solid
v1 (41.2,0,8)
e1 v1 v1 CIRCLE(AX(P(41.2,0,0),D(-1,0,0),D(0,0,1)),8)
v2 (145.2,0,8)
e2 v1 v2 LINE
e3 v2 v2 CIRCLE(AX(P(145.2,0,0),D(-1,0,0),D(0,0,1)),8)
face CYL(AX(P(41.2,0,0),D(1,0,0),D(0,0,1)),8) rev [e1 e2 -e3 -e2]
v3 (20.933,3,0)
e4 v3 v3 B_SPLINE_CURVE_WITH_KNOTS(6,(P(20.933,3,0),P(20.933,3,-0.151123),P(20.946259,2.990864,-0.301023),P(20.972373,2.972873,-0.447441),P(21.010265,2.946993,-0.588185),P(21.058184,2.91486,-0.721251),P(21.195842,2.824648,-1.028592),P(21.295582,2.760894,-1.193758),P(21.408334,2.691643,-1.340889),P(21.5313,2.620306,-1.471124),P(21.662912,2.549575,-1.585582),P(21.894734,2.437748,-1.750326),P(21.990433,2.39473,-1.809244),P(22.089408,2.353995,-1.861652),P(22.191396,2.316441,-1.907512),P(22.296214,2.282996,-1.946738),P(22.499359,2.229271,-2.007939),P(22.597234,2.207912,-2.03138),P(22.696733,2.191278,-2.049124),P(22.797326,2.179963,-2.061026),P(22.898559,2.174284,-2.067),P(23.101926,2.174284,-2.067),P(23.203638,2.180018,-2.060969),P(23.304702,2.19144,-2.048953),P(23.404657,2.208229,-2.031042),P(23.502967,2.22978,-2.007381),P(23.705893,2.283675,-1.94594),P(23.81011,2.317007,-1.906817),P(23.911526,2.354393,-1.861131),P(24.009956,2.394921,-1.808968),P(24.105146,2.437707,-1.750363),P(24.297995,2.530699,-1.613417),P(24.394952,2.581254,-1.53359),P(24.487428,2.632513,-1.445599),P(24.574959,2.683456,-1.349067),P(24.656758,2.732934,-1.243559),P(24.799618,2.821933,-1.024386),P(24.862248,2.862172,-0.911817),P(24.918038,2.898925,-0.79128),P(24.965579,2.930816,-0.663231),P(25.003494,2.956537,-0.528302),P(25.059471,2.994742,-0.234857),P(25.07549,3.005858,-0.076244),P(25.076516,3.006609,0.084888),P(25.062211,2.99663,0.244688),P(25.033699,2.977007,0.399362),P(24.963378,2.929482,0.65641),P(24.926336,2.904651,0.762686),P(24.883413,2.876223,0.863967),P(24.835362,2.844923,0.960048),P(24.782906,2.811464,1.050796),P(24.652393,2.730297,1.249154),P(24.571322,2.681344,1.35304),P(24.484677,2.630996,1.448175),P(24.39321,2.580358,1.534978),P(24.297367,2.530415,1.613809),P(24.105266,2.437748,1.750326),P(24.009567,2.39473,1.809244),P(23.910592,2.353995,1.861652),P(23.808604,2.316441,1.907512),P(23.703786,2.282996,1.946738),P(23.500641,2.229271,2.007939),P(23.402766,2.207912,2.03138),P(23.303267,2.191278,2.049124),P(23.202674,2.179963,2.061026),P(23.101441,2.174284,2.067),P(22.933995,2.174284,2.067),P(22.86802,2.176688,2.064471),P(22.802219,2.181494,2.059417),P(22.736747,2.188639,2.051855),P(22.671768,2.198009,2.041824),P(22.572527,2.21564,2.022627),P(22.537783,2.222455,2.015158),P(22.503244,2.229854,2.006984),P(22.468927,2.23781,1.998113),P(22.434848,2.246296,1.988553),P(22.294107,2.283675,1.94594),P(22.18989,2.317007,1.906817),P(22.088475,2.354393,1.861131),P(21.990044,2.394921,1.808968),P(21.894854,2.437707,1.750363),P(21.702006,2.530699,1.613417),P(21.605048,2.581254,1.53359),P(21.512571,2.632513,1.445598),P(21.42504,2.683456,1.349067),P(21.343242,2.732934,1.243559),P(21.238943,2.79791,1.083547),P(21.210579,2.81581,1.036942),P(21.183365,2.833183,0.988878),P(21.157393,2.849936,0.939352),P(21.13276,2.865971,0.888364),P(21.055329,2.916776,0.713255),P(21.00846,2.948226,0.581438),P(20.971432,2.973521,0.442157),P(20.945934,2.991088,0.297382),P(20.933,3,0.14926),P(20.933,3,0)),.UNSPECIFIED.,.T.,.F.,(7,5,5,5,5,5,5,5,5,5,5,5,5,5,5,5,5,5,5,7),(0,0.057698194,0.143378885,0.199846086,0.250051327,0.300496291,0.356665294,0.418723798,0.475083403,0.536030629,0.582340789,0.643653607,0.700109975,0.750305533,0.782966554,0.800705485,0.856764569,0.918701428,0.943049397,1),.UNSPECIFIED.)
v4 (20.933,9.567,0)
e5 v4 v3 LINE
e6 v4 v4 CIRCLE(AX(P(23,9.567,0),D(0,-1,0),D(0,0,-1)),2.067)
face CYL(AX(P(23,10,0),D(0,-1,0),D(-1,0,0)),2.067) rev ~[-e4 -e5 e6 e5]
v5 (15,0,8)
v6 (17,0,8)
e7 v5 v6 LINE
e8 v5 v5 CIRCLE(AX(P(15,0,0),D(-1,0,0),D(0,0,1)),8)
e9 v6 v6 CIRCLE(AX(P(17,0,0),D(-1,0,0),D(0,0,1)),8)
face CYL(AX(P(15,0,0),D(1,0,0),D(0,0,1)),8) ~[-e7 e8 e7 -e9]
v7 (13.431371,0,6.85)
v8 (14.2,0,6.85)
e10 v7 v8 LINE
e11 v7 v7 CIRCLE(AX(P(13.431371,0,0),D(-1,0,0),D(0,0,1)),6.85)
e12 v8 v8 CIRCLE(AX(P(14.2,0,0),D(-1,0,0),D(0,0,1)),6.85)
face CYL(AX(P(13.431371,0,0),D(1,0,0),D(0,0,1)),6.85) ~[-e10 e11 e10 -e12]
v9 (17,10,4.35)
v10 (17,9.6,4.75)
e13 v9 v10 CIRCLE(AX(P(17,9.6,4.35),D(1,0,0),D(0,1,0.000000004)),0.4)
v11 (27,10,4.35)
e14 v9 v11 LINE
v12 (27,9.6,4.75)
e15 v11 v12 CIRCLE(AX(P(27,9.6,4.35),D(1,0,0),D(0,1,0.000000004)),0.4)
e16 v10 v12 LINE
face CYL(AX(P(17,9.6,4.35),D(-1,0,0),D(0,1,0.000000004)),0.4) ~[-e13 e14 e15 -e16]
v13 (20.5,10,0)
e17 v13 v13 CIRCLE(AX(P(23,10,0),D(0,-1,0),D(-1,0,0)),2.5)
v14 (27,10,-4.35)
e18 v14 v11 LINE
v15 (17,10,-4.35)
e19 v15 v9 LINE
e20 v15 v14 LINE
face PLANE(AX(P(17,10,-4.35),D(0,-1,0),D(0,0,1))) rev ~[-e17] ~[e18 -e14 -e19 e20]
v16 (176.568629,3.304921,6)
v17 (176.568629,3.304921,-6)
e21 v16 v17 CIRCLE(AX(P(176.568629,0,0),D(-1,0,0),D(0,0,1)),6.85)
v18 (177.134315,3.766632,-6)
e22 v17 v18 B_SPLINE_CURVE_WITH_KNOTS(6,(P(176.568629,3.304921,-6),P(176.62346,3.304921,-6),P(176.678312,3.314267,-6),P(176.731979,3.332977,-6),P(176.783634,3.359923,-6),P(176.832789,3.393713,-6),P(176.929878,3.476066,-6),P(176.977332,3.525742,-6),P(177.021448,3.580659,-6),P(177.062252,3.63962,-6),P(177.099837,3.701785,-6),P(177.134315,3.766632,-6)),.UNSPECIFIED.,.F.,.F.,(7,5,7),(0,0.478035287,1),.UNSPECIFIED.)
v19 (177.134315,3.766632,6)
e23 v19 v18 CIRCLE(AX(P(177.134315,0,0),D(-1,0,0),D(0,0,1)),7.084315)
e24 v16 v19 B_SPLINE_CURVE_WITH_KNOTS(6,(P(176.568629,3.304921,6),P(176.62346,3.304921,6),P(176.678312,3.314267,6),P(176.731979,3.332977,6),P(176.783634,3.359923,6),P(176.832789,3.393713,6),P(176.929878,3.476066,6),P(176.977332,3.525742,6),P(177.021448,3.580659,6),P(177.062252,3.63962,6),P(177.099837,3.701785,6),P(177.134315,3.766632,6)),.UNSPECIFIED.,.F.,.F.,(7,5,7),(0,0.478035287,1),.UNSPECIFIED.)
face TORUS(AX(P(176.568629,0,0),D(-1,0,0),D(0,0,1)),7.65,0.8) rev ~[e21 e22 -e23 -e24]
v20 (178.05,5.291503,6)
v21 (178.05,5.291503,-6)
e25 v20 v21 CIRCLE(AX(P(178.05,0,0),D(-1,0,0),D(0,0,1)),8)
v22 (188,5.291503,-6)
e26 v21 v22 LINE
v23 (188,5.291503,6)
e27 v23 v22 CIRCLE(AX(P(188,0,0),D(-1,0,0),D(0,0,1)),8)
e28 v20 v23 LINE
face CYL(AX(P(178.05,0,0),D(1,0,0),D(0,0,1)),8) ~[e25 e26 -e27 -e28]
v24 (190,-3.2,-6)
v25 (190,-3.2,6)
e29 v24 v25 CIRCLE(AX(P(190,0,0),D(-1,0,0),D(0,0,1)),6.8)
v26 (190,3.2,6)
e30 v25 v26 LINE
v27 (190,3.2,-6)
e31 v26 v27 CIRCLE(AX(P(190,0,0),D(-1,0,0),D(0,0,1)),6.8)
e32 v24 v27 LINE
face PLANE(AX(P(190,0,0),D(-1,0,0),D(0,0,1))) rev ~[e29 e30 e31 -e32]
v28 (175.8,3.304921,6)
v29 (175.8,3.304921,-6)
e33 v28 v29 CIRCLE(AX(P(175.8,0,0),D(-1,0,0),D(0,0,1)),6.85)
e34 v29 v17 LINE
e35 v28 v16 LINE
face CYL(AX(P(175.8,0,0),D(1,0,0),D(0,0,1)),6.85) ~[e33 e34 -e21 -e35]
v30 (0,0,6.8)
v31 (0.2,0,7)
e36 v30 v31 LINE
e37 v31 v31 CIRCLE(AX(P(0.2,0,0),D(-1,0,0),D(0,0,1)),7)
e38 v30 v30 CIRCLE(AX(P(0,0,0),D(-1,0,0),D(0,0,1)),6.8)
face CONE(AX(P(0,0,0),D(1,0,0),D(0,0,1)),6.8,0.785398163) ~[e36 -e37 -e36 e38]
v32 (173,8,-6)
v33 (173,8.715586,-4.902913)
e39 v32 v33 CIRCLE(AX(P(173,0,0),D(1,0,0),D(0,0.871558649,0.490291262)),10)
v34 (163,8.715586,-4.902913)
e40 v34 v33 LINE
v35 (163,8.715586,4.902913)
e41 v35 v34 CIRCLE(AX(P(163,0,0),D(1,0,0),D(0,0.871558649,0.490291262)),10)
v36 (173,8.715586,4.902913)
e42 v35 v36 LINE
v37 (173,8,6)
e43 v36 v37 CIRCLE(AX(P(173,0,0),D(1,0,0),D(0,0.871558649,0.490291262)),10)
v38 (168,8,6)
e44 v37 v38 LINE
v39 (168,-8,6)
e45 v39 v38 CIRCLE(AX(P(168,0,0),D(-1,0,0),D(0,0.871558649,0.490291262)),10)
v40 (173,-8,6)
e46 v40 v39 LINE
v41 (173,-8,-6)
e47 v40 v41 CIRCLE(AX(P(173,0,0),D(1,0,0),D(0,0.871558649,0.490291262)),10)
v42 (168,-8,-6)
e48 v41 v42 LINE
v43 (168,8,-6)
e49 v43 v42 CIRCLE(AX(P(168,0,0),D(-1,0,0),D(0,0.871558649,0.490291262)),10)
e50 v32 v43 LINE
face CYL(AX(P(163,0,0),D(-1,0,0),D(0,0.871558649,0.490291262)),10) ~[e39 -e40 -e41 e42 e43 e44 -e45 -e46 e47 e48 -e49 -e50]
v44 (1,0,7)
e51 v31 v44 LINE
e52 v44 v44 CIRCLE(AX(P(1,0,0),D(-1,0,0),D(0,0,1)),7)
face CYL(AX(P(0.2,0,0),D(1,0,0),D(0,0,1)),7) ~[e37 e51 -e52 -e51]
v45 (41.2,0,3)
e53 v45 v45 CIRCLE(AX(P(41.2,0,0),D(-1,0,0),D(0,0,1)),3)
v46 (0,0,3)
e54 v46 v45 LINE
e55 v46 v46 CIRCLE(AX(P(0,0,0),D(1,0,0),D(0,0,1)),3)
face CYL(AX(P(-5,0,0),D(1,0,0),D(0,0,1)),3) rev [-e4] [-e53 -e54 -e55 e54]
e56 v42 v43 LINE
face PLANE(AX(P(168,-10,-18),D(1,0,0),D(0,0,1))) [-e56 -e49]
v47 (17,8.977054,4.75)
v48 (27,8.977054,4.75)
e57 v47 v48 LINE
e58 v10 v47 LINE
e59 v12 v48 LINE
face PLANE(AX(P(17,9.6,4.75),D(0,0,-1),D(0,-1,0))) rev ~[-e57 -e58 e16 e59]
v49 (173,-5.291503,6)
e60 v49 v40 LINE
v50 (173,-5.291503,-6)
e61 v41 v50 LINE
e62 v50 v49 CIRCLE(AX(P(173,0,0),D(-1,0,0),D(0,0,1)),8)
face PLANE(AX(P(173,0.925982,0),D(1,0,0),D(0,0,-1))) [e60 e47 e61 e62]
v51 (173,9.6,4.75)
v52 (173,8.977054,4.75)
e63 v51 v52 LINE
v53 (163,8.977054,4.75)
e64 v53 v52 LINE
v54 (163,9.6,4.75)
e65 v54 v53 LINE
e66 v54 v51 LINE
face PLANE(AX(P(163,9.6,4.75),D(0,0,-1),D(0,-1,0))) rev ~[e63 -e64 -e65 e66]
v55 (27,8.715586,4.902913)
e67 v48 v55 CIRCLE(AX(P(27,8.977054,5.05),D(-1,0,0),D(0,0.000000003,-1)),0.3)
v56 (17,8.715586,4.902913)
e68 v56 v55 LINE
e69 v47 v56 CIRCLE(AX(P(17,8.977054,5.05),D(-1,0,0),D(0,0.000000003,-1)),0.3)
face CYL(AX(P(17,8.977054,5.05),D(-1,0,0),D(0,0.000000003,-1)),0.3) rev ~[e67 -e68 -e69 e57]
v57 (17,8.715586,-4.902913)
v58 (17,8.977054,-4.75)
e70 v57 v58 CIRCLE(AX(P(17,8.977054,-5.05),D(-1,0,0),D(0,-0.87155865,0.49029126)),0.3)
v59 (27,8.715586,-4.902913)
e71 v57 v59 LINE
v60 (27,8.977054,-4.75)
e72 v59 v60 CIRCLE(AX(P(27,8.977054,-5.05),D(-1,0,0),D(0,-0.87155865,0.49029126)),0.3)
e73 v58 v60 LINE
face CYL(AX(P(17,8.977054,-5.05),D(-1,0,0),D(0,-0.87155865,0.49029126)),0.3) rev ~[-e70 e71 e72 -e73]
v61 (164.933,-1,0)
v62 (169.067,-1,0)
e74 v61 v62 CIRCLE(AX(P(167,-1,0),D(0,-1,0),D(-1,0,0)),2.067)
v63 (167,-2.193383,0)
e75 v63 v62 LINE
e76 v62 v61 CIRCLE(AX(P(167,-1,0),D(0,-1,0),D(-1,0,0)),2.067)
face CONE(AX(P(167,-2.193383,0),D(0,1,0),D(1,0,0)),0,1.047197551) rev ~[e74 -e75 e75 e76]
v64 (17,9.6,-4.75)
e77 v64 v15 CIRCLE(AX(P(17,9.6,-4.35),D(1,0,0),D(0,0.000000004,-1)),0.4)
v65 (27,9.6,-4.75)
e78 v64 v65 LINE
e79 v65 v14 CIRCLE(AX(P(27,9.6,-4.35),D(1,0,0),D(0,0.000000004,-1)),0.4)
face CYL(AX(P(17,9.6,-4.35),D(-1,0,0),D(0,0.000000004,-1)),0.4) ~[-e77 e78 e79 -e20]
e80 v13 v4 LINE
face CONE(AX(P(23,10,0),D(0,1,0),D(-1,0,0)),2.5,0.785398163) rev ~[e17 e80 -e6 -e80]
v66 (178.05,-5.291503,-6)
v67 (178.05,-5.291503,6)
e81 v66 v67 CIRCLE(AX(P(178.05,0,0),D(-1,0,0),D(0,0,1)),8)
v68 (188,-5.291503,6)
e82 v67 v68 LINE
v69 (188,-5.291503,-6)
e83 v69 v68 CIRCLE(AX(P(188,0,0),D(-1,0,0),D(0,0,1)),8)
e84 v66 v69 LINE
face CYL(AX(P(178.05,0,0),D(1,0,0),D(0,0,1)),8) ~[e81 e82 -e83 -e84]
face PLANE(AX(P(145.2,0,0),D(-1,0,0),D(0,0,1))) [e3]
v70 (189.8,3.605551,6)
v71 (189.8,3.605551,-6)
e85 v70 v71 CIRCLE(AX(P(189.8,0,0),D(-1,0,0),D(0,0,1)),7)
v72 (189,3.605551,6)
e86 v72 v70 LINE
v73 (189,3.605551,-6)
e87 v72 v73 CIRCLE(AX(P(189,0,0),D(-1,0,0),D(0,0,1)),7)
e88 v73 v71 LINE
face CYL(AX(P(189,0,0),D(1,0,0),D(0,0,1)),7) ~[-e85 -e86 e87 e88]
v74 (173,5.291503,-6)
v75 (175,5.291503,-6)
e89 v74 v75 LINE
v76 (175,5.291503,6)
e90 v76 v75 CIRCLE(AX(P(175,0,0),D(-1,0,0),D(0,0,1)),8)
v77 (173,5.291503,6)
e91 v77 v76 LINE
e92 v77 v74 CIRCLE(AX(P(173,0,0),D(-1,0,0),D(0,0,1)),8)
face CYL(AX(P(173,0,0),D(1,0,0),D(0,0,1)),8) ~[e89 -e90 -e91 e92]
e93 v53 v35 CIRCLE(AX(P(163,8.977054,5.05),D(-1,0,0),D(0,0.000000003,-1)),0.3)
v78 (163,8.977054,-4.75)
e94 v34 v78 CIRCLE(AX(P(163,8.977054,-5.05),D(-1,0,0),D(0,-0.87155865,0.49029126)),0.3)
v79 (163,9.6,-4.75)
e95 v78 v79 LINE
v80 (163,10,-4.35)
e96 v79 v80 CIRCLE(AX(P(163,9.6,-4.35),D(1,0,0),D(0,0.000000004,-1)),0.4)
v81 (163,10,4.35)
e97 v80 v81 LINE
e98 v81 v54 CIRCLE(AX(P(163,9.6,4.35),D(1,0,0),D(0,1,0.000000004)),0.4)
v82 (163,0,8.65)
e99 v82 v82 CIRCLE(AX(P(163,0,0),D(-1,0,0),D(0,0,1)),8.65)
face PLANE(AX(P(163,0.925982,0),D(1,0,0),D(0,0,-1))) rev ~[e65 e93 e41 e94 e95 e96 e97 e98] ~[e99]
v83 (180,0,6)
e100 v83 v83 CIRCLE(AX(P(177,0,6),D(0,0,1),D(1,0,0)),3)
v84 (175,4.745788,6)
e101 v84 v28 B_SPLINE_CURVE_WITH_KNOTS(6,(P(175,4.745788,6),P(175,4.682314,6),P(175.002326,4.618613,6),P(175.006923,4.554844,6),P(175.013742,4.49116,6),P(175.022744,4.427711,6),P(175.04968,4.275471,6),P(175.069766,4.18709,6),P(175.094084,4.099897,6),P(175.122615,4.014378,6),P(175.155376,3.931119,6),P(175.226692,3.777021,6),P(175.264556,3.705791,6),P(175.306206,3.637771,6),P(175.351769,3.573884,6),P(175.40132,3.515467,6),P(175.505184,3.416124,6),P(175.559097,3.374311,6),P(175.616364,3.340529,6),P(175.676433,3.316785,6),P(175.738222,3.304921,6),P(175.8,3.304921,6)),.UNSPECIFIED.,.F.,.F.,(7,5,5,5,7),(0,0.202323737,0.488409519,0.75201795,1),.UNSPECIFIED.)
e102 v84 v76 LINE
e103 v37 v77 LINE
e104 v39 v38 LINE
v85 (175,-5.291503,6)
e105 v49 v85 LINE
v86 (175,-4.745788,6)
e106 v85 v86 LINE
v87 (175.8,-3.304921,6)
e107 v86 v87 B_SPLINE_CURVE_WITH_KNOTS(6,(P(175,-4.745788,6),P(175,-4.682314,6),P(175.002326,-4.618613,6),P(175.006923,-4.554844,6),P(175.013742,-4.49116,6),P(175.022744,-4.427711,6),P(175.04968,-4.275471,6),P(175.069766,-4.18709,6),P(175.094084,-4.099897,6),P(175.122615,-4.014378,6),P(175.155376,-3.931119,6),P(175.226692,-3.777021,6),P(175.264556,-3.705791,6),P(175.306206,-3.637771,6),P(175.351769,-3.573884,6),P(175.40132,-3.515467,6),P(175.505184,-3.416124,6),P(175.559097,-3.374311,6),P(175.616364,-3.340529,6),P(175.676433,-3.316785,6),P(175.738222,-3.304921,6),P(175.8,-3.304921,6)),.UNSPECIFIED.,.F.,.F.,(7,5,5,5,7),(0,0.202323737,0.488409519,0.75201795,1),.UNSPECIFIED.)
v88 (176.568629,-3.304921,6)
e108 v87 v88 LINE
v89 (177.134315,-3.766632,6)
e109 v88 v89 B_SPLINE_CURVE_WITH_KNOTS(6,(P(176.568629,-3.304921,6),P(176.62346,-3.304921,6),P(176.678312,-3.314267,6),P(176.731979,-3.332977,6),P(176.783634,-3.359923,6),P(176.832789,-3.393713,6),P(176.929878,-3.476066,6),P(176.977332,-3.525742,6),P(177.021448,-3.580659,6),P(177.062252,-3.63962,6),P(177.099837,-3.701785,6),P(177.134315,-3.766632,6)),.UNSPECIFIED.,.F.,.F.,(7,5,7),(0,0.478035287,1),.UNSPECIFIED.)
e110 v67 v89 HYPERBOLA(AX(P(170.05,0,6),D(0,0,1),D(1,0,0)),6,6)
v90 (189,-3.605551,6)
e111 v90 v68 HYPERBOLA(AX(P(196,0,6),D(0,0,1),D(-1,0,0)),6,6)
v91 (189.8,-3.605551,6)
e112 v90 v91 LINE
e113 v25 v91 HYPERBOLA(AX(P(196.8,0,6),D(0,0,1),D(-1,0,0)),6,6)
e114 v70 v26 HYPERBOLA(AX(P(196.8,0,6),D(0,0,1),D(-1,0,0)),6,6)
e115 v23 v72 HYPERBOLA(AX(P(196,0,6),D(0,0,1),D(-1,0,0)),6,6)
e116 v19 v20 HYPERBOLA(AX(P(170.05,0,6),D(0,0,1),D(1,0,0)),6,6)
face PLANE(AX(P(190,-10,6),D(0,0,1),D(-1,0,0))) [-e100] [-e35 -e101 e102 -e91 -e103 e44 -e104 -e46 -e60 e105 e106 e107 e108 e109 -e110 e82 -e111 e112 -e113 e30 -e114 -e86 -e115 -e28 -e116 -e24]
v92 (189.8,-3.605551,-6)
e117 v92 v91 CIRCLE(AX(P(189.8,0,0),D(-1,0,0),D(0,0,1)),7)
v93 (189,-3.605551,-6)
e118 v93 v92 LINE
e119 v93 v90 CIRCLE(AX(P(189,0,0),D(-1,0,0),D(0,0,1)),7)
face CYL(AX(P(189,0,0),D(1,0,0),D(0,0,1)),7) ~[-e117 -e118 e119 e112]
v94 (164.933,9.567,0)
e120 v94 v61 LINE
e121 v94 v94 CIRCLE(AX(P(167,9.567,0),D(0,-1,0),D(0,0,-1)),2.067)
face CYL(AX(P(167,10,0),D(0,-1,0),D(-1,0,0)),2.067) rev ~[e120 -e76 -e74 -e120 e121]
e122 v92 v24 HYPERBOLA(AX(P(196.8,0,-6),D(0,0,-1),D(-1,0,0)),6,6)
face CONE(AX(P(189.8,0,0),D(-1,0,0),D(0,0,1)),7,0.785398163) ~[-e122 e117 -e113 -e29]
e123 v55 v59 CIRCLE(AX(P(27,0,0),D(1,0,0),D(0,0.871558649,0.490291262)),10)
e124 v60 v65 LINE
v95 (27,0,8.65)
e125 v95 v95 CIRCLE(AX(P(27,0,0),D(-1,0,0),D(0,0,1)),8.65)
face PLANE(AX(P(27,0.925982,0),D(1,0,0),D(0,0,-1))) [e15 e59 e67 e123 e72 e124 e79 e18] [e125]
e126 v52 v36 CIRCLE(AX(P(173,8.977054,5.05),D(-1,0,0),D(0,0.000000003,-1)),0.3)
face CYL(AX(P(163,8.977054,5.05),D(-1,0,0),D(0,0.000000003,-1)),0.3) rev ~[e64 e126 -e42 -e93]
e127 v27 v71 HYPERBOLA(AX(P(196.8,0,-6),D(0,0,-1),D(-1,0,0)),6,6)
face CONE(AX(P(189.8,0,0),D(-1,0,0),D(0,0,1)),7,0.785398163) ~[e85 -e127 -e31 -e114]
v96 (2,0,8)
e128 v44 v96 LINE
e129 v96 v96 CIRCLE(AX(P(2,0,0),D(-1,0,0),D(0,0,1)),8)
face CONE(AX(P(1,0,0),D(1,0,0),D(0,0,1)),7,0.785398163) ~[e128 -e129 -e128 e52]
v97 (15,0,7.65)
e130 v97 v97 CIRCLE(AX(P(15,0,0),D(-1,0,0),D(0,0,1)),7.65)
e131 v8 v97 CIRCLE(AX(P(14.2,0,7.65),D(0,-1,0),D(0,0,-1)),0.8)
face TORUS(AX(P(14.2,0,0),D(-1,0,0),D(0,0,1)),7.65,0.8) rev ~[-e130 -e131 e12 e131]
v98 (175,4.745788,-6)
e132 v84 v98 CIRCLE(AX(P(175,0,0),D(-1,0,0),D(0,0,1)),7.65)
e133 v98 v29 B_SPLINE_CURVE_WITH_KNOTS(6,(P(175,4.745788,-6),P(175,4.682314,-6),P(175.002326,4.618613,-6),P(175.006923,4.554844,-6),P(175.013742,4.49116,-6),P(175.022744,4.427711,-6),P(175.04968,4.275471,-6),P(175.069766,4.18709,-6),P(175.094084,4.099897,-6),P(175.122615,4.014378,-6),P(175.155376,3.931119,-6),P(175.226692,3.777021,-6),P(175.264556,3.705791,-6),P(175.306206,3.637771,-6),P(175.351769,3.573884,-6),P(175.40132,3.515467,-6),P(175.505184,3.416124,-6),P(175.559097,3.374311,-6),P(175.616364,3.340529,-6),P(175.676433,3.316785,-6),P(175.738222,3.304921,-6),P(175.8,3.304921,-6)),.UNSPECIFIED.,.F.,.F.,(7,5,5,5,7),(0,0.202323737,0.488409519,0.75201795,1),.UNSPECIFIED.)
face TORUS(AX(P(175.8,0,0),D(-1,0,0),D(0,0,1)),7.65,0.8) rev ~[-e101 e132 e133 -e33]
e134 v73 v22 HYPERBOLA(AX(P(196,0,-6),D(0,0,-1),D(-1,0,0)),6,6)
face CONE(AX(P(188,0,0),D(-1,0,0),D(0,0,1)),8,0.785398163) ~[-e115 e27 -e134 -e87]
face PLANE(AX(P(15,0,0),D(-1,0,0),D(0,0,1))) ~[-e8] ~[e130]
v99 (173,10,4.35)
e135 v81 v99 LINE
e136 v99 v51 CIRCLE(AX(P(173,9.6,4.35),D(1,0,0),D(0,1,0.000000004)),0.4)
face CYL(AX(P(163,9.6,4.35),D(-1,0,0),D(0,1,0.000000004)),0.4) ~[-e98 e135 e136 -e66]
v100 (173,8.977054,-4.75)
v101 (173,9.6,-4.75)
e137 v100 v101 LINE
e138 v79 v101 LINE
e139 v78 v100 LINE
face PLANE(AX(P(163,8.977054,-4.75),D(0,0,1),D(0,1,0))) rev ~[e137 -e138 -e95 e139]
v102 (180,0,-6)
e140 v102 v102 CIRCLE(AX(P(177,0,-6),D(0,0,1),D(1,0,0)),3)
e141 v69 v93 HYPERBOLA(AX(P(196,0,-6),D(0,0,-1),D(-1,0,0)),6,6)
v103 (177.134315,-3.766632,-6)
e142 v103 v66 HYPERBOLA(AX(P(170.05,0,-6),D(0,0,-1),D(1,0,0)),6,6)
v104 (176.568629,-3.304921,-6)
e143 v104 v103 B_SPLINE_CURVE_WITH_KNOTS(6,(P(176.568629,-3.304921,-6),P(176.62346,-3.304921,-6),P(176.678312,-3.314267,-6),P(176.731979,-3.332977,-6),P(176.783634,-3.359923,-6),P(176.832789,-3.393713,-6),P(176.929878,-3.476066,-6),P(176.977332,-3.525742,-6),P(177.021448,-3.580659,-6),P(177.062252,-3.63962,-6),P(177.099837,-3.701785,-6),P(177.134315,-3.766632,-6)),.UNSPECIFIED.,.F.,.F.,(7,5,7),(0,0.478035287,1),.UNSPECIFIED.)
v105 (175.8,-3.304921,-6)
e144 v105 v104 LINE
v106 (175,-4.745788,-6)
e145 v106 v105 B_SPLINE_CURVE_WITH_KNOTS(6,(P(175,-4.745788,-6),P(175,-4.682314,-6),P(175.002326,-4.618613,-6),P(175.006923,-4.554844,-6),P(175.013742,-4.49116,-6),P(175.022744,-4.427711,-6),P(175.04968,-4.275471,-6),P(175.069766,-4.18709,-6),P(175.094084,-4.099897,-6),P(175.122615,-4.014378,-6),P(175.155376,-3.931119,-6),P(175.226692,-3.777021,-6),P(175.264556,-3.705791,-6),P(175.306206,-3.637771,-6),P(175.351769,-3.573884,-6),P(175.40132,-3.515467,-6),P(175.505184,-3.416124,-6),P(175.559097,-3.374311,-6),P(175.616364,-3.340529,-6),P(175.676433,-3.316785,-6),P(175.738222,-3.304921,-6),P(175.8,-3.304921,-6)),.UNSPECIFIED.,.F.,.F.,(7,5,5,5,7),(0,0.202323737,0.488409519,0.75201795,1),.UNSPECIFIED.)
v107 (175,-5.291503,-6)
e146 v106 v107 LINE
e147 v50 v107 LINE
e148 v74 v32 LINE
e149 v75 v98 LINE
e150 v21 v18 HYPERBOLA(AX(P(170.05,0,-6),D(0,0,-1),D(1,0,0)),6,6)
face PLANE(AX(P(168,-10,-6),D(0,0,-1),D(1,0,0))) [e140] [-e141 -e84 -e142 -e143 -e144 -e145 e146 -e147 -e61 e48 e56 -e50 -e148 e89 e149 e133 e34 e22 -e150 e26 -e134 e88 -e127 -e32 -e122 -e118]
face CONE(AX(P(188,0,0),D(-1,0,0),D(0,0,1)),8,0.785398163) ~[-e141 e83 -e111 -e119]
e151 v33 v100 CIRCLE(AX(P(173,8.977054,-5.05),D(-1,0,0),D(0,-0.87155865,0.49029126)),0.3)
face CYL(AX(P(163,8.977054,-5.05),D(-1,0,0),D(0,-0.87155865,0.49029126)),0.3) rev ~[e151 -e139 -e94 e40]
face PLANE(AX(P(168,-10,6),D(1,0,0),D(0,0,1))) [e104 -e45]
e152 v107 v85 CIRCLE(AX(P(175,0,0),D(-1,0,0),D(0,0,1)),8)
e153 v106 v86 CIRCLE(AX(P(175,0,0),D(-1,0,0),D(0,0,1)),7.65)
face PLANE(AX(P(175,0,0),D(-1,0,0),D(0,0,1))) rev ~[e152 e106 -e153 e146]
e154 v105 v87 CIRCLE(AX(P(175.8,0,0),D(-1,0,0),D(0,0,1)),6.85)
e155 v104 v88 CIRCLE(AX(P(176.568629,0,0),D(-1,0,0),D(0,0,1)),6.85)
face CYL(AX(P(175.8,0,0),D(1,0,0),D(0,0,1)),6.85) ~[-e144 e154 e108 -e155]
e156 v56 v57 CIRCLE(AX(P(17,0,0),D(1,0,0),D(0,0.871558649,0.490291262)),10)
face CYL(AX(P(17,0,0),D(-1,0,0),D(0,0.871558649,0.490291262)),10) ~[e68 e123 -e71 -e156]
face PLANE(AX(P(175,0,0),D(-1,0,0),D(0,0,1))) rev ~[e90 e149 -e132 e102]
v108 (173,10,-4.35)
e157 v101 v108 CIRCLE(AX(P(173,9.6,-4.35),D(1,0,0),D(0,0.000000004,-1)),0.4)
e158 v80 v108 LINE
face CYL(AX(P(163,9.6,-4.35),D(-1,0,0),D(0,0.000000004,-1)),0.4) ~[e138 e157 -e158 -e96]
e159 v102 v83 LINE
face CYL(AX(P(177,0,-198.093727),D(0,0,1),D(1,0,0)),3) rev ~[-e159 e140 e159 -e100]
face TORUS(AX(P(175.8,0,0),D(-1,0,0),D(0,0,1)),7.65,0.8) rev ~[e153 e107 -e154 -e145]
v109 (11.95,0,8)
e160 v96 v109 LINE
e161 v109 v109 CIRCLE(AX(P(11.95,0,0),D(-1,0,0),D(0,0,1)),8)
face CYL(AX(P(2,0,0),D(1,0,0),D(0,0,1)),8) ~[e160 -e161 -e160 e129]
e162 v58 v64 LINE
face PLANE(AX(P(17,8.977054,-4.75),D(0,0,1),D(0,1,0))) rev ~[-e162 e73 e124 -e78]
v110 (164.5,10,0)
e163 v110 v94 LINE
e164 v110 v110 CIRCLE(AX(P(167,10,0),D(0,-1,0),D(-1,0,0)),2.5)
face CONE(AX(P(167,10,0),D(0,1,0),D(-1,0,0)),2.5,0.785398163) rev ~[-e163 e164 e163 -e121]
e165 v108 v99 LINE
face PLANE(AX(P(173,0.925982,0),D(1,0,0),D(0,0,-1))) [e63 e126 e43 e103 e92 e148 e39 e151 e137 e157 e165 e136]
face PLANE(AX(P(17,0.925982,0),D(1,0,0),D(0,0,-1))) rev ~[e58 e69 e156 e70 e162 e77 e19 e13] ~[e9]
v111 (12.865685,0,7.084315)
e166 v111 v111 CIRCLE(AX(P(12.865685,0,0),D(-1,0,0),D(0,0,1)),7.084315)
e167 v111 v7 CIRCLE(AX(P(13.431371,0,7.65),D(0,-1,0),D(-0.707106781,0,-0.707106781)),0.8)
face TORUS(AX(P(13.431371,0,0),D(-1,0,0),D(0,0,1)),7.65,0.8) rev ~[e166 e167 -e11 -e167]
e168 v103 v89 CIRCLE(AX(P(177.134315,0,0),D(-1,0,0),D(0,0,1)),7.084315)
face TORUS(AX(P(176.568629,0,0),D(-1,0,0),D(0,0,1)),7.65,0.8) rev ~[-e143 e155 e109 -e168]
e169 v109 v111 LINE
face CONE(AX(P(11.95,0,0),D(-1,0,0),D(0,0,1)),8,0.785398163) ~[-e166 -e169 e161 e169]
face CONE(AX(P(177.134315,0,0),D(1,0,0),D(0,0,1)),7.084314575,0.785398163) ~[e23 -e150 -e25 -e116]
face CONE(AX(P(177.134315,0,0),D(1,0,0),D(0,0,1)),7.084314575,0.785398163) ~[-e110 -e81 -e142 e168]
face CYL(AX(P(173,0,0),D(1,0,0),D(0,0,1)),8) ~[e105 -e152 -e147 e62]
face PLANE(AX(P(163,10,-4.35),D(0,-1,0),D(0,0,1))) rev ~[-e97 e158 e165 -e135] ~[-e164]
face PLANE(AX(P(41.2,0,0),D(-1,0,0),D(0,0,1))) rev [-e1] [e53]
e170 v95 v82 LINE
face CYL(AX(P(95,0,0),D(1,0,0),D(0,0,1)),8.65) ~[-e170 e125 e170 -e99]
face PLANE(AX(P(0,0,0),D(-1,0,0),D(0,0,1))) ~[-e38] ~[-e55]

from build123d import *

# Parameters (mm, degrees)
AUFSATZ_LINEAR_AUSTRAGEN1_DEPTH      = 10
SKIZZE3_W                            = 136
SKIZZE3_H                            = 8.65
AUFSATZ_LINEAR_AUSTRAGEN2_DEPTH      = 10
SCHNITT_LINEAR_AUSTRAGEN1_DEPTH      = 10
SCHNITT_LINEAR_AUSTRAGEN1_DEPTH_BACK = 10
BOHRUNG1_D                           = 6
BOHRUNG2_D                           = 4.134
BOHRUNG2_DEPTH                       = 10
BOHRUNG2_CSINK_D                     = 5
BOHRUNG2_CSINK_ANGLE                 = 90
BOHRUNG3_D                           = 4.134
BOHRUNG3_DEPTH                       = 11
BOHRUNG3_CSINK_D                     = 5
BOHRUNG3_CSINK_ANGLE                 = 90
BOHRUNG3_TIP                         = 1.193383006


with BuildPart() as part:
    # Skizze1 → Rotation1 (revolve)
    with BuildSketch(Plane.XY):
        with BuildLine():
            Line((0, 0), (0, 6.8))
            Line((0, 6.8), (0.2, 7))
            Line((0.2, 7), (1, 7))
            Line((1, 7), (2, 8))
            Line((2, 8), (11.95, 8))
            Line((11.95, 8), (12.865685425, 7.084314575))
            ThreePointArc((12.865685425, 7.084314575), (13.125224104, 6.910896374), (13.43137085, 6.85))
            Line((13.43137085, 6.85), (14.2, 6.85))
            ThreePointArc((14.2, 6.85), (14.765685425, 7.084314575), (15, 7.65))
            Line((15, 7.65), (15, 8))
            Line((15, 8), (17, 8))
            Line((17, 8), (17, 0))
            Line((17, 0), (0, 0))
        make_face()
    revolve(axis=Axis((17, 0, 0), (-1, 0, 0)))

    # Skizze2 → Aufsatz-Linear austragen1 (add)
    with BuildSketch(Plane(origin=(17, 0, 0), x_dir=(0, 0, -1), z_dir=(1, 0, 0))):
        with BuildLine():
            Line((4.75, 8.977054082), (4.75, 9.6))
            ThreePointArc((4.75, 9.6), (4.632842712, 9.882842712), (4.35, 10))
            Line((4.35, 10), (-4.35, 10))
            ThreePointArc((-4.35, 10), (-4.632842712, 9.882842712), (-4.75, 9.6))
            Line((-4.75, 9.6), (-4.75, 8.977054082))
            ThreePointArc((-4.75, 8.977054082), (-4.791034545, 8.825604773), (-4.902912621, 8.715586488))
            ThreePointArc((-4.902912621, 8.715586488), (0, -10), (4.902912621, 8.715586488))
            ThreePointArc((4.902912621, 8.715586488), (4.791034545, 8.825604773), (4.75, 8.977054082))
        make_face()
    extrude(amount=AUFSATZ_LINEAR_AUSTRAGEN1_DEPTH)

    # Skizze3 → Rotation2 (revolve)
    with BuildSketch(Plane.XY):
        with Locations((95, 4.325)):
            Rectangle(SKIZZE3_W, SKIZZE3_H)
    revolve(axis=Axis((163, 0, 0), (-1, 0, 0)))

    # Skizze4 → Aufsatz-Linear austragen2 (add)
    with BuildSketch(Plane(origin=(163, 0, 0), x_dir=(0, 0, -1), z_dir=(1, 0, 0))):
        with BuildLine():
            Line((4.75, 8.977054082), (4.75, 9.6))
            ThreePointArc((4.75, 9.6), (4.632842712, 9.882842712), (4.35, 10))
            Line((4.35, 10), (-4.35, 10))
            ThreePointArc((-4.35, 10), (-4.632842712, 9.882842712), (-4.75, 9.6))
            Line((-4.75, 9.6), (-4.75, 8.977054082))
            ThreePointArc((-4.75, 8.977054082), (-4.791034545, 8.825604773), (-4.902912621, 8.715586488))
            ThreePointArc((-4.902912621, 8.715586488), (0, -10), (4.902912621, 8.715586488))
            ThreePointArc((4.902912621, 8.715586488), (4.791034545, 8.825604773), (4.75, 8.977054082))
        make_face()
    extrude(amount=AUFSATZ_LINEAR_AUSTRAGEN2_DEPTH)

    # Skizze5 → Rotation3 (revolve)
    with BuildSketch(Plane.XY):
        with BuildLine():
            Line((173, 0), (173, 8))
            Line((173, 8), (175, 8))
            Line((175, 8), (175, 7.65))
            ThreePointArc((175, 7.65), (175.234314575, 7.084314575), (175.8, 6.85))
            Line((175.8, 6.85), (176.56862915, 6.85))
            ThreePointArc((176.56862915, 6.85), (176.874775896, 6.910896374), (177.134314575, 7.084314575))
            Line((177.134314575, 7.084314575), (178.05, 8))
            Line((178.05, 8), (188, 8))
            Line((188, 8), (189, 7))
            Line((189, 7), (189.8, 7))
            Line((189.8, 7), (190, 6.8))
            Line((190, 6.8), (190, 0))
            Line((190, 0), (173, 0))
        make_face()
    revolve(axis=Axis((190, 0, 0), (-1, 0, 0)))

    # Skizze6 → Schnitt-Linear austragen1 (cut, two sides: drawn at the far end of the back side and taken through both)
    with BuildSketch(Plane(origin=(0, 0, 0), x_dir=(1, 0, 0), z_dir=(0, 1, 0)).offset(-SCHNITT_LINEAR_AUSTRAGEN1_DEPTH_BACK)):
        Polygon((168, 18), (168, 6), (190, 6), (190, -6), (168, -6), (168, -18), (202, -18), (202, 18), align=None)
    extrude(amount=SCHNITT_LINEAR_AUSTRAGEN1_DEPTH + SCHNITT_LINEAR_AUSTRAGEN1_DEPTH_BACK, mode=Mode.SUBTRACT)

    # Bohrung1 (through all)
    with Locations(Plane(origin=(0, 0, -6), x_dir=(-1, 0, 0), z_dir=(0, 0, -1))):
        with Locations((-177, 0)):
            Hole(BOHRUNG1_D / 2)

    # Bohrung2
    with Locations(Plane(origin=(0, 10, 0), x_dir=(1, 0, 0), z_dir=(0, 1, 0))):
        with Locations((23, 0)):
            CounterSinkHole(BOHRUNG2_D / 2, BOHRUNG2_CSINK_D / 2, depth=BOHRUNG2_DEPTH, counter_sink_angle=BOHRUNG2_CSINK_ANGLE)

    # Bohrung3
    with Locations(Plane(origin=(0, 10, 0), x_dir=(1, 0, 0), z_dir=(0, 1, 0))):
        with Locations((167, 0)):
            CounterSinkHole(BOHRUNG3_D / 2, BOHRUNG3_CSINK_D / 2, depth=BOHRUNG3_DEPTH, counter_sink_angle=BOHRUNG3_CSINK_ANGLE)
            with Locations((0, 0, -(BOHRUNG3_DEPTH + BOHRUNG3_TIP / 2))):  # 120° drill point
                Cone(0, BOHRUNG3_D / 2, BOHRUNG3_TIP, mode=Mode.SUBTRACT)

    # Skizze13 → Schnitt-Rotation1 (revolve, cut)
    with BuildSketch(Plane.XY):
        Polygon((-5, 0), (-5, 3), (41.2, 3), (41.2, 8), (145.2, 8), (145.2, 0), align=None)
    revolve(axis=Axis((145.2, 0, 0), (-1, 0, 0)), mode=Mode.SUBTRACT)


solid = part.part
